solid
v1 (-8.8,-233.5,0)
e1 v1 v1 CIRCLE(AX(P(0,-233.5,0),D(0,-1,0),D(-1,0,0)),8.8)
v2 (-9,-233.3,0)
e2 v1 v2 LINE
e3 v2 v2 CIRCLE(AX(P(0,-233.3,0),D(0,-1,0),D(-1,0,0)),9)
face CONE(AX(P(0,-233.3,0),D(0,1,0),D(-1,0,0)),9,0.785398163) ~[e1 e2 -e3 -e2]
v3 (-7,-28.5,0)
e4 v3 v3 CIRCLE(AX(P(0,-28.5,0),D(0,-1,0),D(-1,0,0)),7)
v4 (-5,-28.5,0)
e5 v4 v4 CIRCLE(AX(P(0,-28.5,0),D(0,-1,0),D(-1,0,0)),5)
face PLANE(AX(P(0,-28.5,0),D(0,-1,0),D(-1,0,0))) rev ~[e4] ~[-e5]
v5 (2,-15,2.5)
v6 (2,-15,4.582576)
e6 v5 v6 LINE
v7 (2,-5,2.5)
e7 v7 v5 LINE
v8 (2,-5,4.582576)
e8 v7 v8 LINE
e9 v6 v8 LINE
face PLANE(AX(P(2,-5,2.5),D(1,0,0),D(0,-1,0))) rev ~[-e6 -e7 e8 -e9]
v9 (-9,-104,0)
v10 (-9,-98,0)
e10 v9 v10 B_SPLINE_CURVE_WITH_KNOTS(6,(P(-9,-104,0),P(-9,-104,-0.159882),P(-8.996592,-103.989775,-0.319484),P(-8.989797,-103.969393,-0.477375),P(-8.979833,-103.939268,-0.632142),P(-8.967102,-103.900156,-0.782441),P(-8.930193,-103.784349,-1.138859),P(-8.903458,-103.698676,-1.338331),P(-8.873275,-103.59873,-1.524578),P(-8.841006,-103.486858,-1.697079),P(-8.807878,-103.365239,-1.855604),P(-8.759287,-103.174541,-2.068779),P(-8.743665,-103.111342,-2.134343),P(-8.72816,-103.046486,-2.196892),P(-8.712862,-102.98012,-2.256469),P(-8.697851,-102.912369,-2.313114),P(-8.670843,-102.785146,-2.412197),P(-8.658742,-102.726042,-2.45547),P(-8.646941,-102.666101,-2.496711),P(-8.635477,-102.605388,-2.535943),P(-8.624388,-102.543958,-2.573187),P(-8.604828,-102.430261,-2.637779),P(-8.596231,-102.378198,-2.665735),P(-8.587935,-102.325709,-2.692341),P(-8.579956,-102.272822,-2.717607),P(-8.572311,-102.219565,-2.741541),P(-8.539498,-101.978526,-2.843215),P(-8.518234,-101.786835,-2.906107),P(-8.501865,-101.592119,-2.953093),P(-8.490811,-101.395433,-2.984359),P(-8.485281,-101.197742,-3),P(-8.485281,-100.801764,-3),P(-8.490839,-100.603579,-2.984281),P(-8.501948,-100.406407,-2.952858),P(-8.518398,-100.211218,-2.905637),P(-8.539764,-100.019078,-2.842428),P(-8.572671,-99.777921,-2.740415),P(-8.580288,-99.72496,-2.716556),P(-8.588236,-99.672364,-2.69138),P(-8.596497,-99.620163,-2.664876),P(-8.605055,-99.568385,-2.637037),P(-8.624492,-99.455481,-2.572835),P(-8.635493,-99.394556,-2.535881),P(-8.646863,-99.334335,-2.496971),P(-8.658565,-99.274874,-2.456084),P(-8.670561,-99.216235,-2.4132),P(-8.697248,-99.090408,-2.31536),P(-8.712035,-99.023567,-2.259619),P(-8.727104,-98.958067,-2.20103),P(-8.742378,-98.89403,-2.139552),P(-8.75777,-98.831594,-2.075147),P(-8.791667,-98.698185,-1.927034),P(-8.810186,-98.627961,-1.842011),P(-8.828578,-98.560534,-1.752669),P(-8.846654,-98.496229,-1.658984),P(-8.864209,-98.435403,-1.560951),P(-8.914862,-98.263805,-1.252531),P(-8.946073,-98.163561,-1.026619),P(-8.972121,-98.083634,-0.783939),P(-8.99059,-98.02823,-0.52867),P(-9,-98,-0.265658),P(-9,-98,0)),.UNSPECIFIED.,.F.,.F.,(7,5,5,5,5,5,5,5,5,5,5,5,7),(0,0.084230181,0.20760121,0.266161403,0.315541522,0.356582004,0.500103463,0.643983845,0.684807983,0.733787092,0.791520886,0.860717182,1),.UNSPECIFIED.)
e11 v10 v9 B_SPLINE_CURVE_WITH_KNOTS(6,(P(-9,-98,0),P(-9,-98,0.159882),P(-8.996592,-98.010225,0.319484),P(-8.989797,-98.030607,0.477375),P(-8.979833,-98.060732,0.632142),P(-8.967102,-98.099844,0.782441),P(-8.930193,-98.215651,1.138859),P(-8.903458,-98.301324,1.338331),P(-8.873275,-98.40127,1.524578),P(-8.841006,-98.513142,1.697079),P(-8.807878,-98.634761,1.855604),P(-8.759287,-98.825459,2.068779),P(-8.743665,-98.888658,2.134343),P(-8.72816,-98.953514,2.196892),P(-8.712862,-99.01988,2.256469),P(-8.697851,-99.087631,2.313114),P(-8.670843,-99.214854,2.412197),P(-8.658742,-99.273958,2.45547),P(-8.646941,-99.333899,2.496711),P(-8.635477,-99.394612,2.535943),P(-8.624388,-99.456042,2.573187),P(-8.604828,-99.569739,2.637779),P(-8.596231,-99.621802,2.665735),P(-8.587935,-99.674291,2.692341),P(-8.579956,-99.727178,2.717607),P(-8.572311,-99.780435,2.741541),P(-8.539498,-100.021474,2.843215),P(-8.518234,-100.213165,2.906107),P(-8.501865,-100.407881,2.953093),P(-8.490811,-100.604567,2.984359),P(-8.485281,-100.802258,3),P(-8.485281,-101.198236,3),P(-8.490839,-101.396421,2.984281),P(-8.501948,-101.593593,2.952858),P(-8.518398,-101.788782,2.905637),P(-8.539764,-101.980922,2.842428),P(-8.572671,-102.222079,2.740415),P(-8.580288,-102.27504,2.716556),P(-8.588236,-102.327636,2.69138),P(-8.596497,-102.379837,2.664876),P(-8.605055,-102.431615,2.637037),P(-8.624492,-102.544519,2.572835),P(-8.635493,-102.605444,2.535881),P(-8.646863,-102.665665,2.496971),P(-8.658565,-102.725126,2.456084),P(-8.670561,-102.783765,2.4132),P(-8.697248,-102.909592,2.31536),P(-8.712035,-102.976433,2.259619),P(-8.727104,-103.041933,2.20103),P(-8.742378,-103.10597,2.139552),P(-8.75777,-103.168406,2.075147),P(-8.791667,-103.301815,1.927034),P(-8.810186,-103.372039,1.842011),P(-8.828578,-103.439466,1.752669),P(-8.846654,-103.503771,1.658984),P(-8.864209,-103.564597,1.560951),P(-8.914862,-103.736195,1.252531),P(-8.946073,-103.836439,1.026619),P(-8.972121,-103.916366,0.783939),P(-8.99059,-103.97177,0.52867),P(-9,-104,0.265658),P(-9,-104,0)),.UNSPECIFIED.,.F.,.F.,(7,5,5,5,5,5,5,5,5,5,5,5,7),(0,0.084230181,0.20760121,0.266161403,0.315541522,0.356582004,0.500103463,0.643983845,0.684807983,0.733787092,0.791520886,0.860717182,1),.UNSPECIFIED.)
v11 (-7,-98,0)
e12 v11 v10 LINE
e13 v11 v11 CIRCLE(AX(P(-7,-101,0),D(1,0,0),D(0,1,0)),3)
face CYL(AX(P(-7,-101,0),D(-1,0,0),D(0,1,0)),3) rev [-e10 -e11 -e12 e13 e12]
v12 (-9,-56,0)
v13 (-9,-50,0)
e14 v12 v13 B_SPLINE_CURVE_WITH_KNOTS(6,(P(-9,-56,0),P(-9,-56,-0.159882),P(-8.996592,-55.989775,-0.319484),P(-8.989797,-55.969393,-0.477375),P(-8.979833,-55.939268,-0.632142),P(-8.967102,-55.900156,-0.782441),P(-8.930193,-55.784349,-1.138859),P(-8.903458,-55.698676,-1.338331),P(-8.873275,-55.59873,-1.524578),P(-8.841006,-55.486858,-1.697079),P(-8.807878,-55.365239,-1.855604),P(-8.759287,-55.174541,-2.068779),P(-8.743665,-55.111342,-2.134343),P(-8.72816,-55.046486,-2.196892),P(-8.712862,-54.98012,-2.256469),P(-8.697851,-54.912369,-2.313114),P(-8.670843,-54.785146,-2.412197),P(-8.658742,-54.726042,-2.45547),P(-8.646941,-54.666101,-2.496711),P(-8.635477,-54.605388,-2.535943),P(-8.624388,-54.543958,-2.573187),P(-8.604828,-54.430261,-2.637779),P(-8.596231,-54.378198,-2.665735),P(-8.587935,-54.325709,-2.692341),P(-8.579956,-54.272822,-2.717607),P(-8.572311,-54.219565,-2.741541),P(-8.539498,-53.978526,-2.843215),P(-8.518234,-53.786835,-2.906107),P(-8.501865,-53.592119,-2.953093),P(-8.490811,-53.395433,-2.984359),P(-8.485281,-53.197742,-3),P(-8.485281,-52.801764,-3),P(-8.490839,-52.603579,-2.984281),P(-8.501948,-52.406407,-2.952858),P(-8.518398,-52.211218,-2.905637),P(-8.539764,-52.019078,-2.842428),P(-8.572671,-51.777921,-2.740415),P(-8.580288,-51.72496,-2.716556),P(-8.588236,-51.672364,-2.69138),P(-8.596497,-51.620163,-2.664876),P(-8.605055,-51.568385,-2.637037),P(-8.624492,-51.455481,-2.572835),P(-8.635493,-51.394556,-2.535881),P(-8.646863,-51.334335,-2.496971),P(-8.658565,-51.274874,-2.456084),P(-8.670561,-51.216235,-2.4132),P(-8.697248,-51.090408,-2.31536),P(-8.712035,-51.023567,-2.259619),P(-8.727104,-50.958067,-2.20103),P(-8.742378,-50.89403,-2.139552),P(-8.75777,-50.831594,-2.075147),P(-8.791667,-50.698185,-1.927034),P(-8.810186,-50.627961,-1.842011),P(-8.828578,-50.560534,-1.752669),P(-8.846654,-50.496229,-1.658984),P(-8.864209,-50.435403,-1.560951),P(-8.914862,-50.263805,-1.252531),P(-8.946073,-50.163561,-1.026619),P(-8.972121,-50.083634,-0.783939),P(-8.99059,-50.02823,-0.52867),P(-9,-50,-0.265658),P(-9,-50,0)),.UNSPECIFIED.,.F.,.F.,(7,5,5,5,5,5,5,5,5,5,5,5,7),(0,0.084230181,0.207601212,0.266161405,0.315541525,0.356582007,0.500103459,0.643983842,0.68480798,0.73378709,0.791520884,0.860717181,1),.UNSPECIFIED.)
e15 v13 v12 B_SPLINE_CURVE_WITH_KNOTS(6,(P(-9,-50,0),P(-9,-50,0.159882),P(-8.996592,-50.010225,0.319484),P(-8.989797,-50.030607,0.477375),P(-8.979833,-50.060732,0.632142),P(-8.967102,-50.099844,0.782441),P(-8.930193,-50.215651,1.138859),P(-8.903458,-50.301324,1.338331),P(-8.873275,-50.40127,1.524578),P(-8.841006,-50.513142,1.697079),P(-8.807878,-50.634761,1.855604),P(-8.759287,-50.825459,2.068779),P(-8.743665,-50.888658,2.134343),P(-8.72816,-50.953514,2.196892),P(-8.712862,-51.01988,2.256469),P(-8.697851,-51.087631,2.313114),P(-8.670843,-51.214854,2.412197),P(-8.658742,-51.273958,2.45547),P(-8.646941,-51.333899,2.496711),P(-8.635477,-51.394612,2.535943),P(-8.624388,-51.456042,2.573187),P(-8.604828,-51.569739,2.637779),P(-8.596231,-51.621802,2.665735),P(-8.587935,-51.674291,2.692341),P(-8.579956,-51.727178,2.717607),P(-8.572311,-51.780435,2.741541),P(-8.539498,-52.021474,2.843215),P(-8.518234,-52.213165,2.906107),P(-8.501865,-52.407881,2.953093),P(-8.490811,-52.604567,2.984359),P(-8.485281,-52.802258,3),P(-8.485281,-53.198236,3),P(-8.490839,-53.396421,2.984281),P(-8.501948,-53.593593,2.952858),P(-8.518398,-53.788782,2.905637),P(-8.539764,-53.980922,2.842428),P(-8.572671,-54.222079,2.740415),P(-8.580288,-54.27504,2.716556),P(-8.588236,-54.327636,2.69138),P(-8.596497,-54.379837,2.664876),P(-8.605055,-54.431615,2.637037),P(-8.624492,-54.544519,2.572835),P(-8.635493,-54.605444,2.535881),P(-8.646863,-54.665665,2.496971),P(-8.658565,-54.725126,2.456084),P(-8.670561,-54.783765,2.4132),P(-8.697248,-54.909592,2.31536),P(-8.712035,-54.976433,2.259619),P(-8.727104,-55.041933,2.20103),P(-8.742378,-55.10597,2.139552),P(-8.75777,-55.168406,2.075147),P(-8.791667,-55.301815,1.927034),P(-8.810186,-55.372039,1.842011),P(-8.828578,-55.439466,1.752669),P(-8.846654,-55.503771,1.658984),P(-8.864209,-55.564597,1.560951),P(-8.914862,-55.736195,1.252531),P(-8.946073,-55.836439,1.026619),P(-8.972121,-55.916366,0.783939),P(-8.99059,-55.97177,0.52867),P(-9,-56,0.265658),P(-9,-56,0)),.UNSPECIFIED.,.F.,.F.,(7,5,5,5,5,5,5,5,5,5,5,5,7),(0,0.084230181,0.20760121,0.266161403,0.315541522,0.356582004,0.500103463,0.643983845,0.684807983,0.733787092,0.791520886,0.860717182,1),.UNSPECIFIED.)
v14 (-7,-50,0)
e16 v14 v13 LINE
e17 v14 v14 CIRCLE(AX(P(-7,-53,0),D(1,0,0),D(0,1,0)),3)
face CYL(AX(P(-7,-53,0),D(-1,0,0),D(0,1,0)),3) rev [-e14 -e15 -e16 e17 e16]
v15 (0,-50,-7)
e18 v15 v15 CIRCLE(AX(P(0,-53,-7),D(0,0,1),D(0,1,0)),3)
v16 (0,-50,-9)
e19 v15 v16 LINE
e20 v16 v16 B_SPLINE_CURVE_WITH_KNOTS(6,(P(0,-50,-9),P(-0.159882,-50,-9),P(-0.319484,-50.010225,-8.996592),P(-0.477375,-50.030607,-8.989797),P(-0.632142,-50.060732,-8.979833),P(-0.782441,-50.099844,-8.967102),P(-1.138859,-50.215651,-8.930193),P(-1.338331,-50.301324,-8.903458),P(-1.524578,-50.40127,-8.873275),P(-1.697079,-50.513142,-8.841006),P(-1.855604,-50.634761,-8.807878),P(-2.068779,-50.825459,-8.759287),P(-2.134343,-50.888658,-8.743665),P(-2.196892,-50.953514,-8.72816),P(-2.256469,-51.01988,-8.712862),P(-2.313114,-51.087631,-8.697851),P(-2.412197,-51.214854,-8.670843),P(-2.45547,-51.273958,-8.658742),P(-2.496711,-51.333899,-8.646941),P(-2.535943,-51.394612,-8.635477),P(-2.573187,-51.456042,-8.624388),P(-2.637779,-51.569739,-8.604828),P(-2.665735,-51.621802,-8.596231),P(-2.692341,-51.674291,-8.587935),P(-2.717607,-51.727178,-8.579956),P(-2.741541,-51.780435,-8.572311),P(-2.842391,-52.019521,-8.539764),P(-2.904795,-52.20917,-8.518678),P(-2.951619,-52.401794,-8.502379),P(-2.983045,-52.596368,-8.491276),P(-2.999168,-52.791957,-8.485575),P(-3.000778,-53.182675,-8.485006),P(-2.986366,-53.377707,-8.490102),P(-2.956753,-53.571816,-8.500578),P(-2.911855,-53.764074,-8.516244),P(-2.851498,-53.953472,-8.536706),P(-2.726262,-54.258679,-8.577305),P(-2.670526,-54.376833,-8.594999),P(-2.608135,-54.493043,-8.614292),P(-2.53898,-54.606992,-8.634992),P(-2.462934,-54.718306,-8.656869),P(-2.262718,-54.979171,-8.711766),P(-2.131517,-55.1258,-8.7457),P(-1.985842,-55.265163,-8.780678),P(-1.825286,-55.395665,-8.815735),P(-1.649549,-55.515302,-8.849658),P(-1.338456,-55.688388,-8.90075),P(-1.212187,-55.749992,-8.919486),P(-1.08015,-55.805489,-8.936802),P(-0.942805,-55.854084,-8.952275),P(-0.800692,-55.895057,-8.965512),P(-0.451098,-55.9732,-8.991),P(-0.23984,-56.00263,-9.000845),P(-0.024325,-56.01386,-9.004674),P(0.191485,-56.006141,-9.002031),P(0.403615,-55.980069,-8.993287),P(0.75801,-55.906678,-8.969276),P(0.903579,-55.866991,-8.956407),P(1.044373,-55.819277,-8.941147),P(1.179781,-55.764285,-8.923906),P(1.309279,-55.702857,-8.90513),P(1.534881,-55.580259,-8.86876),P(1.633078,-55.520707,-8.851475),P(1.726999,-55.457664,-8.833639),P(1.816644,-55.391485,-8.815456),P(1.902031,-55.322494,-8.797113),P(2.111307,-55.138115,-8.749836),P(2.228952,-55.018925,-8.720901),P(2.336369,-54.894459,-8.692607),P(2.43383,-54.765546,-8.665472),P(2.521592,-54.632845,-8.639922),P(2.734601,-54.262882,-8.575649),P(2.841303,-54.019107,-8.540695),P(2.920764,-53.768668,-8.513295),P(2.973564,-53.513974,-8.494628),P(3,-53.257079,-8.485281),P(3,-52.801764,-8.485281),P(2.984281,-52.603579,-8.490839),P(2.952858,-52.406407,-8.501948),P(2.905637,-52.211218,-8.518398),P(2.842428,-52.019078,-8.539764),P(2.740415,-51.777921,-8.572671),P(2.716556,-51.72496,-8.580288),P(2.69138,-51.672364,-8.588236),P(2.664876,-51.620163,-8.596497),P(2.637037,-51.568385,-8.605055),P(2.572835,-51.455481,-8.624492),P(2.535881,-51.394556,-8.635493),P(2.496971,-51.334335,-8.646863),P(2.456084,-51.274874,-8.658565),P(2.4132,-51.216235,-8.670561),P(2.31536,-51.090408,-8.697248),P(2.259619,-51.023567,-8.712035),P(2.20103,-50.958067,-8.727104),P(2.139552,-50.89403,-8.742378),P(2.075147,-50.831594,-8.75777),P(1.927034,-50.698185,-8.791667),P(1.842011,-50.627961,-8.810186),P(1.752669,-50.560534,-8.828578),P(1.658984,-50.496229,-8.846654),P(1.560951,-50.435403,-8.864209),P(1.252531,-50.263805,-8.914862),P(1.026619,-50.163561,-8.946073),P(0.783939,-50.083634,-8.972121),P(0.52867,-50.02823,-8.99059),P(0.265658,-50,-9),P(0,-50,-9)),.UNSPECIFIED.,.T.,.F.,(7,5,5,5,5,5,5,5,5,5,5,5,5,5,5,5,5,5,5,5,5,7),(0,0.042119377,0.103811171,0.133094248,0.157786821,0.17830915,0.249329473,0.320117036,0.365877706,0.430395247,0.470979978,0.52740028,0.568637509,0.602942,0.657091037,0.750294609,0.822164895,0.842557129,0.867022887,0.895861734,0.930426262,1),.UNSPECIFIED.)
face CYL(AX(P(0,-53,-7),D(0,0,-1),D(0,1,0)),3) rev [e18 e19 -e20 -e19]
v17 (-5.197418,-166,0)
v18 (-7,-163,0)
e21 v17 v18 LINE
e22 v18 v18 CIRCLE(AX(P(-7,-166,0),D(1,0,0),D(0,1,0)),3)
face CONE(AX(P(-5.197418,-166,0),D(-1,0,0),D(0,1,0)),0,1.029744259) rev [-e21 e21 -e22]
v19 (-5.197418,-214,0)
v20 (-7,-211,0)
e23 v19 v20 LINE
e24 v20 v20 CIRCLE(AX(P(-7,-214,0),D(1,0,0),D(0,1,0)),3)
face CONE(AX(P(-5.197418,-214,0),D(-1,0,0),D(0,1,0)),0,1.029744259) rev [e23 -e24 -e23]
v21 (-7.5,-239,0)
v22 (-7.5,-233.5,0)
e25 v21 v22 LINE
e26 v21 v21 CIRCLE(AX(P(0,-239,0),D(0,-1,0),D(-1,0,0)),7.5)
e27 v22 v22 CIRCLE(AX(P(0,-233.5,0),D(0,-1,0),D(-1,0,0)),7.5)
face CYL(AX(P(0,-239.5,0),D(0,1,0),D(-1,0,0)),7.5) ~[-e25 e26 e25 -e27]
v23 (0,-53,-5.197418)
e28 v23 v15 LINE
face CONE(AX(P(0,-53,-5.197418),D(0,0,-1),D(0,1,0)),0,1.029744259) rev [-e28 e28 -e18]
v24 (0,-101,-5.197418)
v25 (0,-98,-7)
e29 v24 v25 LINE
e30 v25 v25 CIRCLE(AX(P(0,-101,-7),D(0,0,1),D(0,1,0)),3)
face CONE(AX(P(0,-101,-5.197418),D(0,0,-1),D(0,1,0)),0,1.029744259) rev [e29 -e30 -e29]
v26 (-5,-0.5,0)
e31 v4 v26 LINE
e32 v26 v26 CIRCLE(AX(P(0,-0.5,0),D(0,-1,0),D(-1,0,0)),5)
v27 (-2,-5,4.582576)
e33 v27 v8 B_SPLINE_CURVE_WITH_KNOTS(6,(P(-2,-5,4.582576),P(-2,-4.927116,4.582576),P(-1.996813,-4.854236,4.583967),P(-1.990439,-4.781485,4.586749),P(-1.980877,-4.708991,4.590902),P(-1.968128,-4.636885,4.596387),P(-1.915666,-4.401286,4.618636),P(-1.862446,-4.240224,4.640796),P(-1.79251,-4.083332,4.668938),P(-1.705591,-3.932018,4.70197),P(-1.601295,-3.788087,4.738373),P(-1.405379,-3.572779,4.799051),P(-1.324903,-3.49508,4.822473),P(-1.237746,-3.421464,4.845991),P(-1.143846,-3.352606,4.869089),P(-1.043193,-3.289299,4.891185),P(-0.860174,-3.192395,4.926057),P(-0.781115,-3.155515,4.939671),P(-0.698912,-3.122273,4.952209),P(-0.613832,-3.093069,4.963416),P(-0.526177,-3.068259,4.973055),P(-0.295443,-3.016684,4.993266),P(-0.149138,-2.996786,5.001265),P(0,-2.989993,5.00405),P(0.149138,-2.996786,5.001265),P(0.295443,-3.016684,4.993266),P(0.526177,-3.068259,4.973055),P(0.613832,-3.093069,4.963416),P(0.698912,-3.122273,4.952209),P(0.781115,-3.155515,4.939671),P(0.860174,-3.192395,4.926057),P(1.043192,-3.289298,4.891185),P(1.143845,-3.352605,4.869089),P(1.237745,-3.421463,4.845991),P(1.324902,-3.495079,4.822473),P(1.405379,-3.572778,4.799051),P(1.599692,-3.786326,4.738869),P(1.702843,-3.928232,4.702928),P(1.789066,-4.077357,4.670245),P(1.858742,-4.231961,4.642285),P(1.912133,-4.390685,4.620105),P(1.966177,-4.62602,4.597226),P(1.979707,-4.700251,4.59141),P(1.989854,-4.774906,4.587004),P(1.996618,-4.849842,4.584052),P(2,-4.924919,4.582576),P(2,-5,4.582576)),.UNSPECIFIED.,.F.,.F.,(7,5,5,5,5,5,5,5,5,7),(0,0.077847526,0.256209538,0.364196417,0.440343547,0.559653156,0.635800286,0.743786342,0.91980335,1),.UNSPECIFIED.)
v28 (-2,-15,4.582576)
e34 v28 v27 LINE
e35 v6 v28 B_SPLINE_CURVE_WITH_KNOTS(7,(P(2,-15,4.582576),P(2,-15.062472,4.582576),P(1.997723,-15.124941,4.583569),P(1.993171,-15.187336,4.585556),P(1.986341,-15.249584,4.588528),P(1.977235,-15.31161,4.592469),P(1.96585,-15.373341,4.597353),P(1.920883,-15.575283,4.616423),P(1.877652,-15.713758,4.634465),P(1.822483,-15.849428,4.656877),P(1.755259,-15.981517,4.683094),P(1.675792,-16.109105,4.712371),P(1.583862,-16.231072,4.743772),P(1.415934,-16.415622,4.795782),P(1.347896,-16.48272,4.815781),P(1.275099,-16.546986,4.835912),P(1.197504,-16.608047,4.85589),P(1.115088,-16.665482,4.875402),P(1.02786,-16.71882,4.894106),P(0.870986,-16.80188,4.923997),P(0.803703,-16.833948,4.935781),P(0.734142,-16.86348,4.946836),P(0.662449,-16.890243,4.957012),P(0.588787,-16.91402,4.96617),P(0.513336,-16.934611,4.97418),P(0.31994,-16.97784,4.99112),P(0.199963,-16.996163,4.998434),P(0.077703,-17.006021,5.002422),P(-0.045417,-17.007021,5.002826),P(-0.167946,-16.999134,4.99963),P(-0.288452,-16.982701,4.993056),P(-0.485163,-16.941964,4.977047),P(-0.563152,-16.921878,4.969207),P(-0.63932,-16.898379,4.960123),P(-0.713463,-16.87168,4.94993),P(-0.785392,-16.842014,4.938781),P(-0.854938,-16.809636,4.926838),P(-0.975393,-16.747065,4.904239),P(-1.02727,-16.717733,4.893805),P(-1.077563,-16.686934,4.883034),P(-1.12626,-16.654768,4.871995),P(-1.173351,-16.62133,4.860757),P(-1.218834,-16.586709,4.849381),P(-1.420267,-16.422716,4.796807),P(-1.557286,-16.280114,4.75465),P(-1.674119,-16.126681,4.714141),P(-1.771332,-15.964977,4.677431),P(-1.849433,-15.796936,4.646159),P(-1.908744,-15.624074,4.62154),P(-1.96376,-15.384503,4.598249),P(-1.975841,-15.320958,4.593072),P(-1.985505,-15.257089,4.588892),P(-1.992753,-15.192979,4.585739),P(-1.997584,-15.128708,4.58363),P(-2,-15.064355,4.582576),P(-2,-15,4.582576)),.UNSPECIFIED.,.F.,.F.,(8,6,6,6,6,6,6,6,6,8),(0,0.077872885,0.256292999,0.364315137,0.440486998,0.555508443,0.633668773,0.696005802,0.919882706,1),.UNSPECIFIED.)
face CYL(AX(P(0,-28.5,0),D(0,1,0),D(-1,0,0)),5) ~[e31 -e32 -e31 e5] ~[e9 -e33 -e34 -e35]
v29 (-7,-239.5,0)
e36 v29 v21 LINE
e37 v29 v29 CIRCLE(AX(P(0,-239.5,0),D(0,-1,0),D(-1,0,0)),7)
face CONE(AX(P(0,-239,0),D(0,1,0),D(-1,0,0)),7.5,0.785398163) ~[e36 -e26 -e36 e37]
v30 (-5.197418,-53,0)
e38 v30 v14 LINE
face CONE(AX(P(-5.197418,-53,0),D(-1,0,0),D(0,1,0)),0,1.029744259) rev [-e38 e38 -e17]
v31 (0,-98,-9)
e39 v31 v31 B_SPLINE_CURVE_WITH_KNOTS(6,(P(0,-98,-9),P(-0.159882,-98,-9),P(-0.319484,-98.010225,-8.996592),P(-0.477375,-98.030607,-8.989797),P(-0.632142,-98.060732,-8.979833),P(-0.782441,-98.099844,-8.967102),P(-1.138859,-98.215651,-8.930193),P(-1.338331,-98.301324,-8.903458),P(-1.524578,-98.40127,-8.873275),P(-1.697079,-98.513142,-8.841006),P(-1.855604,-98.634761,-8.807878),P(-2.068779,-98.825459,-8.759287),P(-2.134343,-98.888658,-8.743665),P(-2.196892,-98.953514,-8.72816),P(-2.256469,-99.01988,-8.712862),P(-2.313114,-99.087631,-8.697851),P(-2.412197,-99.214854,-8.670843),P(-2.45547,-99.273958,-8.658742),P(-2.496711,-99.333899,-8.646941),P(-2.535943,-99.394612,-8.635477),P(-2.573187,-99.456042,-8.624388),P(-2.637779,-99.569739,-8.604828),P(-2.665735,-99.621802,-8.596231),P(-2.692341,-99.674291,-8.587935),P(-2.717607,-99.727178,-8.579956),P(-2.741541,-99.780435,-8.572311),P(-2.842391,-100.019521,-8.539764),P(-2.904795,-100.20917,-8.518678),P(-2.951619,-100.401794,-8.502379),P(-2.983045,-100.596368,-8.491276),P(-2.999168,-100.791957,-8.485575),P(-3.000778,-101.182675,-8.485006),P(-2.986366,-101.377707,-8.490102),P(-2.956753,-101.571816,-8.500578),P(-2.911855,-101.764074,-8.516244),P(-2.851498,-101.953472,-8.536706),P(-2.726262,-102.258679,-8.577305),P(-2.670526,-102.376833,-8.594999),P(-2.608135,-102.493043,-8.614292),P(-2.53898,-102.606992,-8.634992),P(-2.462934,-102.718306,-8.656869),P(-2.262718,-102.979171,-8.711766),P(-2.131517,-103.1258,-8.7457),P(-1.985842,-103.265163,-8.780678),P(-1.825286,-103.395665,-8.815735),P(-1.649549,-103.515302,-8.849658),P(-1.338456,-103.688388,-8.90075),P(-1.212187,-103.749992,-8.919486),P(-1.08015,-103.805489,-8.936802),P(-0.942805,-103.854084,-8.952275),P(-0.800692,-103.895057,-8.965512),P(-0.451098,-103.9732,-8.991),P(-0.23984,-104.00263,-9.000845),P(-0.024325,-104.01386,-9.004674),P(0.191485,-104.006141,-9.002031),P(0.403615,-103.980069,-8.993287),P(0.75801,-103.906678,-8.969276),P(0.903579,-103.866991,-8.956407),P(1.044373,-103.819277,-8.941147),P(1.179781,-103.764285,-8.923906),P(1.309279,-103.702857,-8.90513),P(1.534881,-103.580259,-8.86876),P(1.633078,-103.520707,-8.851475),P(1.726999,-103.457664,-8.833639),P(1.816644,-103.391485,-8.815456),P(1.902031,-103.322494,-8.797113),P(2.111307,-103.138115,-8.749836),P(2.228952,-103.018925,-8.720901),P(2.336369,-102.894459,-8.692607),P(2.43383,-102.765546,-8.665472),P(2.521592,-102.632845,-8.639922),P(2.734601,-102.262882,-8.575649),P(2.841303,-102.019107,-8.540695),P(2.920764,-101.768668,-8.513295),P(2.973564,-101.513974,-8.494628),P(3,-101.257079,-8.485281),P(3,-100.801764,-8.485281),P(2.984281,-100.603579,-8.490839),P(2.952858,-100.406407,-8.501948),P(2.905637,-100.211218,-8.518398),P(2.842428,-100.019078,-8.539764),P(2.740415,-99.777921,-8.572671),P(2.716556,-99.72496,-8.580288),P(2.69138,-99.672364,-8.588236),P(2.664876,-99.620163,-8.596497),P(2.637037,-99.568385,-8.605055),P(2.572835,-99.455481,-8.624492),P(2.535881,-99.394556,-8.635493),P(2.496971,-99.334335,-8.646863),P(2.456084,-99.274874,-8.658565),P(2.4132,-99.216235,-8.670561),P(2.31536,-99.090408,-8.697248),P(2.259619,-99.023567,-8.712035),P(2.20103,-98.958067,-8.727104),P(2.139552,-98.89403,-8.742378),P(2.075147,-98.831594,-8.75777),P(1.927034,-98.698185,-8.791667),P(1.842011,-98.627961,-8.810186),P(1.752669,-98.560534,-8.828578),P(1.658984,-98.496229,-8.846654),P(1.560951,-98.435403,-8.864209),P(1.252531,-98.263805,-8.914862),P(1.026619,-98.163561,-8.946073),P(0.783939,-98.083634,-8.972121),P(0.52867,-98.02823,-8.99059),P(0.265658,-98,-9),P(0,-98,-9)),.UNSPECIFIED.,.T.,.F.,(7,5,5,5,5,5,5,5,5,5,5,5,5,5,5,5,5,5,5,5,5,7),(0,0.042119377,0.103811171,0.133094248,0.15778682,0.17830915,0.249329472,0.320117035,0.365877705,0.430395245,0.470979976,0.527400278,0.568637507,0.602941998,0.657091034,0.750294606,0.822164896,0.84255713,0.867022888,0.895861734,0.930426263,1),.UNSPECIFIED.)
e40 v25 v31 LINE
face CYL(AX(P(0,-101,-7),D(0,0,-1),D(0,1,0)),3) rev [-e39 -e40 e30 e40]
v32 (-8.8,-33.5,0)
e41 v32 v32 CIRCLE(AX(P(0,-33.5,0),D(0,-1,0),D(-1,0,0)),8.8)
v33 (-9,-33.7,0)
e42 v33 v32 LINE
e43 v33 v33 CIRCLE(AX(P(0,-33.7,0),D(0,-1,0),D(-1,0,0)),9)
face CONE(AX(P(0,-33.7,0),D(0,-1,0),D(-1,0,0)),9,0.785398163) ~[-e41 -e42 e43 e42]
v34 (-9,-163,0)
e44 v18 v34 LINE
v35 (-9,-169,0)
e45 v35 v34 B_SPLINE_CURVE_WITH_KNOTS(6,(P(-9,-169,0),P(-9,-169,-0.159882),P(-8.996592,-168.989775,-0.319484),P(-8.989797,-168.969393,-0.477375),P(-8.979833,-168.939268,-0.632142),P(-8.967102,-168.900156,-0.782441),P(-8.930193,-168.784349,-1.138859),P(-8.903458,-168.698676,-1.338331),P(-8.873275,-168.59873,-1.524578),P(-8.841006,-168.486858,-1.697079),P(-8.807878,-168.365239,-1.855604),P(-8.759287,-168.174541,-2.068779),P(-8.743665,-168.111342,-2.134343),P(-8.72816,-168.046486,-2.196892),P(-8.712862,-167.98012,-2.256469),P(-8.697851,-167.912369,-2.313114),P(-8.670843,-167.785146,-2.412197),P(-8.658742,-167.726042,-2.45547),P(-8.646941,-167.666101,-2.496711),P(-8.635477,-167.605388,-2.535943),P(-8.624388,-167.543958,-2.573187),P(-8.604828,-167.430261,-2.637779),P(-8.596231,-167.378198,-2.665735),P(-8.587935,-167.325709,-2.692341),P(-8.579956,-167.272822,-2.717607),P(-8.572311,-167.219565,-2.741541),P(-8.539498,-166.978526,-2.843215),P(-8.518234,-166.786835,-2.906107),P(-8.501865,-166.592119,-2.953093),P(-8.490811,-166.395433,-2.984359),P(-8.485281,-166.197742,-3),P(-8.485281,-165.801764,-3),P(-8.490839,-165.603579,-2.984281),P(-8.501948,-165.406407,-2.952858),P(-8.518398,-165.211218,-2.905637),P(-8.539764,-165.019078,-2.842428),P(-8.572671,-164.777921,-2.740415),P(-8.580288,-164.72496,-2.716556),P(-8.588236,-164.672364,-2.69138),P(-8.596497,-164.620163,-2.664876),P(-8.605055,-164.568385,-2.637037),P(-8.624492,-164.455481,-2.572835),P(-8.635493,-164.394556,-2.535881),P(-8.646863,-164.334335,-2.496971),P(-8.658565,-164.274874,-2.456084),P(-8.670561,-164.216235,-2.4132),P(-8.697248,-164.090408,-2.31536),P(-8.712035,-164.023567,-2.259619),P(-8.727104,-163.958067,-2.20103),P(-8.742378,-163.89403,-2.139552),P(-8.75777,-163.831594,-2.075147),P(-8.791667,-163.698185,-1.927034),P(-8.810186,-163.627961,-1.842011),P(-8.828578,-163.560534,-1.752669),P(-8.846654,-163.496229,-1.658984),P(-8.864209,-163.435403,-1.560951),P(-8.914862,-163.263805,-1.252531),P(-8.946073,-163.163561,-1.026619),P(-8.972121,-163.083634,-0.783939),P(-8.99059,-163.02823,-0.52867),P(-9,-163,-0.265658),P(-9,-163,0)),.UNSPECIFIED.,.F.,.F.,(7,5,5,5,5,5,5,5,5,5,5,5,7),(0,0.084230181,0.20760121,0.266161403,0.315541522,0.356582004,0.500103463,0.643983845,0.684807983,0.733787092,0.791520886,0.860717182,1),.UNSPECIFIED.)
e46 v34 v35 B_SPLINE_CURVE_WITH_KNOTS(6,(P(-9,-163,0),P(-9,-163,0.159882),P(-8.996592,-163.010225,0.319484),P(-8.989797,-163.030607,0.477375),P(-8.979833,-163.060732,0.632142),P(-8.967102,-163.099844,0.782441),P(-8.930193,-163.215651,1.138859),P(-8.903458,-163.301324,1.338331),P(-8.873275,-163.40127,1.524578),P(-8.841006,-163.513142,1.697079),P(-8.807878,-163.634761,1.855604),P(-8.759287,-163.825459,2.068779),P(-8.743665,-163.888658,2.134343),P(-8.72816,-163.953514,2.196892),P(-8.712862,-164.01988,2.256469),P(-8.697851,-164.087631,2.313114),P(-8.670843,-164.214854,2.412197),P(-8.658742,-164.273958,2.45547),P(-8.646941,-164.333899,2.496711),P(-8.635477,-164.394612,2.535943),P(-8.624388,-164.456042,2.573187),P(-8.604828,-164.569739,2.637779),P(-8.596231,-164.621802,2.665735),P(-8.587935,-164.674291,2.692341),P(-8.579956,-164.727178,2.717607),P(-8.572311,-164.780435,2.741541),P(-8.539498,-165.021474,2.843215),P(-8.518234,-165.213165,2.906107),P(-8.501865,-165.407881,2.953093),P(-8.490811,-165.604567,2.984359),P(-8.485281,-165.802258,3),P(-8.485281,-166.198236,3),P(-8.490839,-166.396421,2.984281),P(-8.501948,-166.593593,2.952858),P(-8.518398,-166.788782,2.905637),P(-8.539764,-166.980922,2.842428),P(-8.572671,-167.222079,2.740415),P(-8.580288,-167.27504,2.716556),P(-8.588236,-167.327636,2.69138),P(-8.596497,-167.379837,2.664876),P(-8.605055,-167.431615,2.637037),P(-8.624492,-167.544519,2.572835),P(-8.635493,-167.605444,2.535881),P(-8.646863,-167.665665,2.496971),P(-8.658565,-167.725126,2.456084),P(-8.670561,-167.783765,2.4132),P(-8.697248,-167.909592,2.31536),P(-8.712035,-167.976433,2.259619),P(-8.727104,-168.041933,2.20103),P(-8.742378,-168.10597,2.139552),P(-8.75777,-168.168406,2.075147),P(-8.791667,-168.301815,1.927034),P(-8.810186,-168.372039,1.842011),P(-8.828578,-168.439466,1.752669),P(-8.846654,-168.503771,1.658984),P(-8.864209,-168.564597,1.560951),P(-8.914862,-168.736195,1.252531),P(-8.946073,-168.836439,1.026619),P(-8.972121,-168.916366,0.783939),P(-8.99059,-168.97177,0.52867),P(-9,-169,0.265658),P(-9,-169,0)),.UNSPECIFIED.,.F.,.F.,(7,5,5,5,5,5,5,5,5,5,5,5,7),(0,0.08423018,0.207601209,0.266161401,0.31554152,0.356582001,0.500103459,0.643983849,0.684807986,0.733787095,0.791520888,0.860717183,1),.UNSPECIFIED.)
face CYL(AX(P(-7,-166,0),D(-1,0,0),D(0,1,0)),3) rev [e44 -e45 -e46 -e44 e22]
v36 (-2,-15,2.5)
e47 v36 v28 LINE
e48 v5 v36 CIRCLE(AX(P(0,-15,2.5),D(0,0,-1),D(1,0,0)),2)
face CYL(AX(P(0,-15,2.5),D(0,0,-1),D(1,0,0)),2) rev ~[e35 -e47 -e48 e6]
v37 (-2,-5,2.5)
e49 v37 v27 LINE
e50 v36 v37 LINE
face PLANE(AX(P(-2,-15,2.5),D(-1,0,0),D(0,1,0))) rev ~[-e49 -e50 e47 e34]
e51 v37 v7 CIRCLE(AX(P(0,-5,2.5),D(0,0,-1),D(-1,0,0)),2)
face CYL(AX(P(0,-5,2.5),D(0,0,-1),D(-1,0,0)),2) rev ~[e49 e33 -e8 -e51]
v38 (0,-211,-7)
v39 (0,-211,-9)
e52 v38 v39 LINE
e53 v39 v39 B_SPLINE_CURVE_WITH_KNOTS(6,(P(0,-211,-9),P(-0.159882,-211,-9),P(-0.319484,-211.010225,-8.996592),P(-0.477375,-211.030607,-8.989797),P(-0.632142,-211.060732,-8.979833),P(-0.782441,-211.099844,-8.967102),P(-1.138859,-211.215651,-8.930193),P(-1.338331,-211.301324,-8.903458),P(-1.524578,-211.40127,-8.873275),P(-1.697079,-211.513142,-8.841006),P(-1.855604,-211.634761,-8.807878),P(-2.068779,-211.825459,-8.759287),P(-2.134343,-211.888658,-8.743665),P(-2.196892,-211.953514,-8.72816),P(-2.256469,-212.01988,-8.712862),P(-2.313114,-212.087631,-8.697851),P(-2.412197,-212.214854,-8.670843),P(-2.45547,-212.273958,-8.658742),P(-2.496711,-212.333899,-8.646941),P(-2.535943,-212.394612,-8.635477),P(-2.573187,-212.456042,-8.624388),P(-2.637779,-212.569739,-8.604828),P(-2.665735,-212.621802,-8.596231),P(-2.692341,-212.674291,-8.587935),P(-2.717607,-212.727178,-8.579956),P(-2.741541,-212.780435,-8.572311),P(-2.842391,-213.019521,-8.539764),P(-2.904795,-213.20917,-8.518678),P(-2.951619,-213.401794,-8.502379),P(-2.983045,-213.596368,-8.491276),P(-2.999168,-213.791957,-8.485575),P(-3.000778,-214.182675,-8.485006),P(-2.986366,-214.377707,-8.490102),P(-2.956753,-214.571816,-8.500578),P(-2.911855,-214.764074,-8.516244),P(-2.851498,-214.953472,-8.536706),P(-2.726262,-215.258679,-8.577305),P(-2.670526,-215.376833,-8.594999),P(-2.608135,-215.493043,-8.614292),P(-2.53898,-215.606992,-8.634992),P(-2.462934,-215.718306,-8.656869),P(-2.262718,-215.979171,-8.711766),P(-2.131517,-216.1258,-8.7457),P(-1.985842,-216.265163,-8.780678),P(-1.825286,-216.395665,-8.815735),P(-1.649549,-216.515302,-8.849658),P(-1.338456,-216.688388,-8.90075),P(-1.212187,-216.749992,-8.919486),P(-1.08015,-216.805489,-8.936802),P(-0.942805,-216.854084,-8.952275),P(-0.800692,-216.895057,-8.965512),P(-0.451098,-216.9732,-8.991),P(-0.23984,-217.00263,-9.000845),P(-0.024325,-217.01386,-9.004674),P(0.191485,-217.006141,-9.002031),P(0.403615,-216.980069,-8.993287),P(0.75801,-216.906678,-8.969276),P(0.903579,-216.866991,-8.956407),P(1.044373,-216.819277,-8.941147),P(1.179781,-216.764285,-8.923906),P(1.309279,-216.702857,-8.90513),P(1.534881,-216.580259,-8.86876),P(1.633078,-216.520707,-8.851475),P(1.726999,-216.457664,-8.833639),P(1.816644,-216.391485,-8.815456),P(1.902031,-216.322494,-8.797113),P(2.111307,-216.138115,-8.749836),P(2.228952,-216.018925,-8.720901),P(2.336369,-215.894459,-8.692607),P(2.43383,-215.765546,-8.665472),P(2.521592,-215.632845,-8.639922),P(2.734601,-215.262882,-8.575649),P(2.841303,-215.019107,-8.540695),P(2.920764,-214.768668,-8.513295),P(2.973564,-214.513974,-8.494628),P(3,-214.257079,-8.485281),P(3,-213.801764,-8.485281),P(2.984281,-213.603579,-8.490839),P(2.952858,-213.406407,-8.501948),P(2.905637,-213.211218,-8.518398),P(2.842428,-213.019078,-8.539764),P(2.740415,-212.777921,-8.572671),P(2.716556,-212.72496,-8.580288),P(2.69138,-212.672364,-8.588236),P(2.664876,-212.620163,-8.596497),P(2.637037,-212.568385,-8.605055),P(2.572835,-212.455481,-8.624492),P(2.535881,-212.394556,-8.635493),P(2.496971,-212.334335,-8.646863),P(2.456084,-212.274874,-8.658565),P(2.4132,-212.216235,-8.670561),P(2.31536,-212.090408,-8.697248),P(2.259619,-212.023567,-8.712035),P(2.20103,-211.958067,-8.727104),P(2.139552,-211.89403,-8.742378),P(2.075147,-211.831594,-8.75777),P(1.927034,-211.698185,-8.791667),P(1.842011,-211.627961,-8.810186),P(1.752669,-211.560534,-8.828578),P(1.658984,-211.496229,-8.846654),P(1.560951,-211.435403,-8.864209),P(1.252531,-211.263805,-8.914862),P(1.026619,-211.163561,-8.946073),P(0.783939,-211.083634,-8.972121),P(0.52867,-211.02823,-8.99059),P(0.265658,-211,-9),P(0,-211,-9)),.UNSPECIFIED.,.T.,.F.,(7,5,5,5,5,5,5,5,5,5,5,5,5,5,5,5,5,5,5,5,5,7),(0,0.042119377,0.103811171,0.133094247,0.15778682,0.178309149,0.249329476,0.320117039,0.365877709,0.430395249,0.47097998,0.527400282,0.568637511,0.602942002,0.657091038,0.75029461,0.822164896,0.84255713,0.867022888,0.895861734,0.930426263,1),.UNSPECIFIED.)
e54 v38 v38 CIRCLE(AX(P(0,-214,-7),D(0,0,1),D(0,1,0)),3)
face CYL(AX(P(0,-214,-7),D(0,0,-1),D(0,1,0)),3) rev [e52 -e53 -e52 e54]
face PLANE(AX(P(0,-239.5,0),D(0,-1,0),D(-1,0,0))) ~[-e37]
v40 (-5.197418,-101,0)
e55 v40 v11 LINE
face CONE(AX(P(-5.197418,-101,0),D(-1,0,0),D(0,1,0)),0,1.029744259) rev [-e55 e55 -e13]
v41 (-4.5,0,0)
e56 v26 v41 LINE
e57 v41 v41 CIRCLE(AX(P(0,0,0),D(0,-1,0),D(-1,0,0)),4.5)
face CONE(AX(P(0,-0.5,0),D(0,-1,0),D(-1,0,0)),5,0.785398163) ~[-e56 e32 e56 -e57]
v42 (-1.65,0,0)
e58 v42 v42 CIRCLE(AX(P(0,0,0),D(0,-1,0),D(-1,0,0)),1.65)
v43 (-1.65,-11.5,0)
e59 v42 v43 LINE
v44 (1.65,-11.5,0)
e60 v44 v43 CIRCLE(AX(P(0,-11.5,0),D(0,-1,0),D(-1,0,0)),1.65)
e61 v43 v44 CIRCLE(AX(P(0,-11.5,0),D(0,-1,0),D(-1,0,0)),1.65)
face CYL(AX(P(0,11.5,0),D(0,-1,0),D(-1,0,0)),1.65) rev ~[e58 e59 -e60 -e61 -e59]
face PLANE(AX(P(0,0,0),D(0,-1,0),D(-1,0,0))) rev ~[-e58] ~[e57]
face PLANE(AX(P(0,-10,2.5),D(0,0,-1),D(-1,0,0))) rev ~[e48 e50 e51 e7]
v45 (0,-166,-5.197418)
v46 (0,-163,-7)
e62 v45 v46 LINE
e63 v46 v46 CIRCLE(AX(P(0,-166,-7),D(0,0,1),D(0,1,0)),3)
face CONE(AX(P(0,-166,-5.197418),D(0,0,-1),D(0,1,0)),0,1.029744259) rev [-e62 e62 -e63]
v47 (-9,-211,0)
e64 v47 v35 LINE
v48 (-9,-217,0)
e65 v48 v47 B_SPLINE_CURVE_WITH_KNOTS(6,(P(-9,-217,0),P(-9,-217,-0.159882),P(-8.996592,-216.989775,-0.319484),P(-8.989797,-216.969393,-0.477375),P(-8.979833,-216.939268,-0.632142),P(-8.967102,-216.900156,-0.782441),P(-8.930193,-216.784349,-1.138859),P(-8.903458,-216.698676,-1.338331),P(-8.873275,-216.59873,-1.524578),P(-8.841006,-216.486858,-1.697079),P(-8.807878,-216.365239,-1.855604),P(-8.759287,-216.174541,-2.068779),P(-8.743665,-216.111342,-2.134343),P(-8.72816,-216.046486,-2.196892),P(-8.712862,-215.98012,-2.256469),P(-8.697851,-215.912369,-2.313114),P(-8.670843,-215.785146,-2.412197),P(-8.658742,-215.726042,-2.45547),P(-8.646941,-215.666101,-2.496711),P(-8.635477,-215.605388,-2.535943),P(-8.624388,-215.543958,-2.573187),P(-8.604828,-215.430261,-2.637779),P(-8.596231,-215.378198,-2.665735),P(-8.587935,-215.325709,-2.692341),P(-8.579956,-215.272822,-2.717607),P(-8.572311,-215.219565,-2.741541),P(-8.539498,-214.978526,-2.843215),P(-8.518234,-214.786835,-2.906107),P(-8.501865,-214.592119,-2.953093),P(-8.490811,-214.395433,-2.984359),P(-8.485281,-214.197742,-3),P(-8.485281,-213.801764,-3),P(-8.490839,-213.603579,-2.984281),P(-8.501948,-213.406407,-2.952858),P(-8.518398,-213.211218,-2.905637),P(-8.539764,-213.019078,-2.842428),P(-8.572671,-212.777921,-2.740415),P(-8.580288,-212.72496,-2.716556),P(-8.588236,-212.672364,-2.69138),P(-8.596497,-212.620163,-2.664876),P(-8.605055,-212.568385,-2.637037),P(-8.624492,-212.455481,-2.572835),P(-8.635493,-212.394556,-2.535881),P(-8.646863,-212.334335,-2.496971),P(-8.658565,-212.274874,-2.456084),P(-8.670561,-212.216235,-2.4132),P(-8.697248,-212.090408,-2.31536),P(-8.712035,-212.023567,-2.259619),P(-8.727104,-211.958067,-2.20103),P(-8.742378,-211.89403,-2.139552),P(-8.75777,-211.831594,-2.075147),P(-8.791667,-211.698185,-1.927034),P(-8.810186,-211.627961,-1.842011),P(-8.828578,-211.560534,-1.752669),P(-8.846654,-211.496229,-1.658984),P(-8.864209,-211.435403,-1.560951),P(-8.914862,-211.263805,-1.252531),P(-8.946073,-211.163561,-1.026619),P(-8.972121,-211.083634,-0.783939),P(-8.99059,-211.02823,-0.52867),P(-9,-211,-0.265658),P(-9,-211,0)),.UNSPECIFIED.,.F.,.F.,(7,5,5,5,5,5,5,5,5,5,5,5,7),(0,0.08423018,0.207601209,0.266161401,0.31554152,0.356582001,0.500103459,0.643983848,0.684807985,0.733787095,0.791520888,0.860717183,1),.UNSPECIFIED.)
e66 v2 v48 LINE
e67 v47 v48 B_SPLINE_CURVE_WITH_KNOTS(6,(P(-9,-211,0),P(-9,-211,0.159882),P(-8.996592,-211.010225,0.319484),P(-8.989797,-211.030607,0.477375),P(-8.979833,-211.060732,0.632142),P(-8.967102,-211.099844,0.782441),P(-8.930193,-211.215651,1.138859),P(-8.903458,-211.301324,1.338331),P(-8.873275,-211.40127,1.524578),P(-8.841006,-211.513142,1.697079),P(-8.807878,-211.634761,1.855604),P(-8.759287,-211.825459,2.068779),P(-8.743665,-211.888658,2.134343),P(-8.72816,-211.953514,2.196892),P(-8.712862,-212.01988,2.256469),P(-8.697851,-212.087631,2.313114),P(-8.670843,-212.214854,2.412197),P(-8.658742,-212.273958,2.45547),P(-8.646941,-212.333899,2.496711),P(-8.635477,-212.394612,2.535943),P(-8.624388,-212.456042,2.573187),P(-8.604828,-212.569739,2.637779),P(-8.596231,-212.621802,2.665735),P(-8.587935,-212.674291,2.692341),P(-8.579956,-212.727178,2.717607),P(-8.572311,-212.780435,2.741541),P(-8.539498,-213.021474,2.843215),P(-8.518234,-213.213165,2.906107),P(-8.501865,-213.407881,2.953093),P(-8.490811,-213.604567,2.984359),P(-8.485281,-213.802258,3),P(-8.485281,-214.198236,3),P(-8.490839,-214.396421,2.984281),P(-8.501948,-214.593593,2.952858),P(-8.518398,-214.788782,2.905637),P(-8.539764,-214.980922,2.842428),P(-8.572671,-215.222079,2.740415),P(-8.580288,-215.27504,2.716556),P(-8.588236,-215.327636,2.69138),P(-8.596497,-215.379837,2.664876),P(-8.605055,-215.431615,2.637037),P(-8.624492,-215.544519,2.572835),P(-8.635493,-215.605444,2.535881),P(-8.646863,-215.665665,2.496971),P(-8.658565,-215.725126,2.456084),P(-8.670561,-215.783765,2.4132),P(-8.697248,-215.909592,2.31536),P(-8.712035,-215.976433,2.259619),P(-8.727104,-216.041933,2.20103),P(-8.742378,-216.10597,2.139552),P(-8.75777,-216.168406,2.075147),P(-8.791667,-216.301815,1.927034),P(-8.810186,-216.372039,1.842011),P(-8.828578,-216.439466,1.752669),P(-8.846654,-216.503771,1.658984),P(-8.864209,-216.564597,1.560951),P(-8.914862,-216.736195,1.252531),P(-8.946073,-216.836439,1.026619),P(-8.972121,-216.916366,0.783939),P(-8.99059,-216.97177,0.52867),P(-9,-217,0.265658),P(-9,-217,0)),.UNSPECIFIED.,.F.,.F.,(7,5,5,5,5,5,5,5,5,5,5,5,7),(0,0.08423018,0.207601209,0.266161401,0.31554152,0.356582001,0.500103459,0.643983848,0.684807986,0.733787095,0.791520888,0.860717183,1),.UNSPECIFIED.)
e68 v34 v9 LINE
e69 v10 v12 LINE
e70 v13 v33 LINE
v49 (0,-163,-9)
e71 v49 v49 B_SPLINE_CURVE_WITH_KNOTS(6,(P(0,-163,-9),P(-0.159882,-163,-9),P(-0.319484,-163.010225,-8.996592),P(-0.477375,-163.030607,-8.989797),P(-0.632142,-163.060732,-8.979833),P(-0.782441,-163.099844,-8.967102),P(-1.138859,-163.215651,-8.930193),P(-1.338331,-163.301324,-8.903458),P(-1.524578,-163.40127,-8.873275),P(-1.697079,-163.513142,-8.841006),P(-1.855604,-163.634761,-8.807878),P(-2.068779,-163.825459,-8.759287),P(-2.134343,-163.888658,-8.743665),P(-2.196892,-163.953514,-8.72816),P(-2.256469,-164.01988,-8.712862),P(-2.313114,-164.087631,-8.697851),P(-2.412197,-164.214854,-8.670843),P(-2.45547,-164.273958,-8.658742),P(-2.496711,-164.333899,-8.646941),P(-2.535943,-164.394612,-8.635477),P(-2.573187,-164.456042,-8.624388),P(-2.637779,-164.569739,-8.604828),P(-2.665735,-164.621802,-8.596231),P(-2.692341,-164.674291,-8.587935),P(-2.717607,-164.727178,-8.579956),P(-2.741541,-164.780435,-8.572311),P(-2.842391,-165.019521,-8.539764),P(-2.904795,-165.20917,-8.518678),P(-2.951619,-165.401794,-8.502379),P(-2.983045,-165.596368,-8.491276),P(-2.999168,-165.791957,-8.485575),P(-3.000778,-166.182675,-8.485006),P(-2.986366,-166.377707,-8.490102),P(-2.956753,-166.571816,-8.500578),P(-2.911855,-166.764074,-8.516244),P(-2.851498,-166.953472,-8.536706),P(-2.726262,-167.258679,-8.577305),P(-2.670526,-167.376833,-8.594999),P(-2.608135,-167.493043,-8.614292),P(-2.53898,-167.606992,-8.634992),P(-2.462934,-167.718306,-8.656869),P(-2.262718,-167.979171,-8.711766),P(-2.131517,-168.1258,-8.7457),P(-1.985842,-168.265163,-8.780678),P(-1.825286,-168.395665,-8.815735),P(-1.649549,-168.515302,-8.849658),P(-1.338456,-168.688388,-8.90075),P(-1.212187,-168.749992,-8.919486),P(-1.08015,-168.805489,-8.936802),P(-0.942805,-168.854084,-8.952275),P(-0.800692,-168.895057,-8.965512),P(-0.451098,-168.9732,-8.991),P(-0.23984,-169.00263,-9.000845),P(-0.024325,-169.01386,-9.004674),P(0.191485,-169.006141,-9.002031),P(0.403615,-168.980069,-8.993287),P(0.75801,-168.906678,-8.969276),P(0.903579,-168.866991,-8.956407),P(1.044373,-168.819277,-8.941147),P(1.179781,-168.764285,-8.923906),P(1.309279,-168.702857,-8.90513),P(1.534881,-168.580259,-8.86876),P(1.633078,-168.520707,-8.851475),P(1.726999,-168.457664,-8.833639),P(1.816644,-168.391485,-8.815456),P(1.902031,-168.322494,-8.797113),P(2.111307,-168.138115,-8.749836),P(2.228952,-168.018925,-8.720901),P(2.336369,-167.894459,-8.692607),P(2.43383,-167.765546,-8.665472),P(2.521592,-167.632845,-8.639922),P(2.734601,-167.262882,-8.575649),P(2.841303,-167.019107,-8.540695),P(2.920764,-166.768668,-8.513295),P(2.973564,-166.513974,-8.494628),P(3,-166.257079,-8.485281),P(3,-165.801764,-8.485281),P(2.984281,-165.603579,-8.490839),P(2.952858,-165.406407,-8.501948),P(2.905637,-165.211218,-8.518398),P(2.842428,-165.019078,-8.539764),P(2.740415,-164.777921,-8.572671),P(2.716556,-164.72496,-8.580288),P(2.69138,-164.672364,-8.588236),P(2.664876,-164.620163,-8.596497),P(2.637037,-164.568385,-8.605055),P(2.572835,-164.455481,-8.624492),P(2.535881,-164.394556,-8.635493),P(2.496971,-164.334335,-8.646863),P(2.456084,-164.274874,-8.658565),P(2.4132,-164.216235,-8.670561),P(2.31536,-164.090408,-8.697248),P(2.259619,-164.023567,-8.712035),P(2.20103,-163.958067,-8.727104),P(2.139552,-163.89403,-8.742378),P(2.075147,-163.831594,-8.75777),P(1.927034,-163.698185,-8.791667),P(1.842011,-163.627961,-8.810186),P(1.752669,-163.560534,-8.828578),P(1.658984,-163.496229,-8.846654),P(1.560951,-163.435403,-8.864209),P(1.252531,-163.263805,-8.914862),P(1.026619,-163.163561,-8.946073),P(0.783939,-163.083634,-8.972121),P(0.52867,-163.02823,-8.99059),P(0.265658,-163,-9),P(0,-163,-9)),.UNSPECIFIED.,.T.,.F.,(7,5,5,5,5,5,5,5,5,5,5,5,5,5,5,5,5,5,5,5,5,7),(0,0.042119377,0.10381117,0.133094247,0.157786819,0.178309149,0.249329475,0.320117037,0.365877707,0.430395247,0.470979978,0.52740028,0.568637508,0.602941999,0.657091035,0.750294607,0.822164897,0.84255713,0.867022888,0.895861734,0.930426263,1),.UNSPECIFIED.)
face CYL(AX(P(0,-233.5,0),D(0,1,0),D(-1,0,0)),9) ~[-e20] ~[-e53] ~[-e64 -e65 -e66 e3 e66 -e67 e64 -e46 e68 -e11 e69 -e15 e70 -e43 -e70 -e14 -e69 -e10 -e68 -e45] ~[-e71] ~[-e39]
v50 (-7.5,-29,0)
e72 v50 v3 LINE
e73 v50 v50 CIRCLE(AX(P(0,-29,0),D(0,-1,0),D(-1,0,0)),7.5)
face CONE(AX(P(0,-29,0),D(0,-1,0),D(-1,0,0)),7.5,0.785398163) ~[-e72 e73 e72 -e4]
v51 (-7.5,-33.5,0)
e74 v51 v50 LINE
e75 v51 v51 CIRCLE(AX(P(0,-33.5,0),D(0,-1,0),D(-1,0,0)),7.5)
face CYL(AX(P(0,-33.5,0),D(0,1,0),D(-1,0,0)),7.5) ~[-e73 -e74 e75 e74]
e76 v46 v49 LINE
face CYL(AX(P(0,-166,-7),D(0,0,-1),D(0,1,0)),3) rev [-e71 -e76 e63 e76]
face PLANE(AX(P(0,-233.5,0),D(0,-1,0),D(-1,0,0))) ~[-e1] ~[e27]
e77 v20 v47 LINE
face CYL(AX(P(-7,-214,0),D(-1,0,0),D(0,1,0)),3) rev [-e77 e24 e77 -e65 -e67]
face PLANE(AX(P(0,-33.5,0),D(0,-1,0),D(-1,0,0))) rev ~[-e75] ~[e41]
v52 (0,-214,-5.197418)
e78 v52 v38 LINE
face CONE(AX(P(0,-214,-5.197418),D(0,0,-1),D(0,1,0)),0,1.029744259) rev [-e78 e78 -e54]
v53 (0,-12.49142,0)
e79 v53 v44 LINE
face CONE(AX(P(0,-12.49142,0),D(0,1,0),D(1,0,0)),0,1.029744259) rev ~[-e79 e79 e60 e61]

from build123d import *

# Parameters (mm, degrees)
CHAMFER_1_SIZE                 = 0.5
CHAMFER_2_SIZE                 = 0.2
HOLE_WIZARD_6_0_6_1_AT_2_COUNT = 2
HOLE_WIZARD_6_0_6_1_AT_2_PITCH = 48
HOLE_WIZARD_6_0_6_1_AT_3_COUNT = 2
HOLE_WIZARD_6_0_6_1_AT_3_PITCH = 113
HOLE_WIZARD_6_0_6_1_AT_4_COUNT = 2
HOLE_WIZARD_6_0_6_1_AT_4_PITCH = 161
PATTERN_CIRCULAR_1_COUNT       = 2
PATTERN_CIRCULAR_1_ANGLE       = 90
CUT_EXTRUDE_3_DEPTH            = 10
HOLE_WIZARD_M4_1_D             = 3.3
HOLE_WIZARD_M4_1_DEPTH         = 11.5
HOLE_WIZARD_M4_1_TIP           = 0.991420021


with BuildPart() as part:
    # 草图1 → 旋转1 (revolve)
    with BuildSketch(Plane.XY):
        Polygon((0, 0), (0, -239.5), (-7.5, -239.5), (-7.5, -233.5), (-9, -233.5), (-9, -33.5), (-7.5, -33.5), (-7.5, -28.5), (-5, -28.5), (-5, 0), align=None)
    revolve(axis=Axis((0, 0, 0), (0, -1, 0)))

    # 倒角1
    chamfer_1_edges = [part.edges().sort_by_distance(p)[0] for p in [
        (7.5, -239.5, 0),
        (5, 0, 0),
        (7.5, -28.5, 0),
    ]]
    chamfer(chamfer_1_edges, length=CHAMFER_1_SIZE)

    # 倒角2
    chamfer_2_edges = [part.edges().sort_by_distance(p)[0] for p in [
        (9, -33.5, 0),
        (9, -233.5, 0),
    ]]
    chamfer(chamfer_2_edges, length=CHAMFER_2_SIZE)

    # 草图5 → Ø6.0 (6) 直径孔1 (revolve, cut)
    with BuildSketch(Plane(origin=(0, -214, -9), x_dir=(0, 1, 0), z_dir=(1, 0, 0))):
        Polygon((0, 0), (0, 3.802581857), (3, 2), (3, 0), align=None)
    hole_wizard_6_0_6_1 = revolve(axis=Axis((0, -214, -15.35), (0, 0, 1)), mode=Mode.SUBTRACT)

    # Ø6.0 (6) 直径孔1 at 2: Ø6.0 (6) 直径孔1 ×2
    with Locations(*[(0, i * HOLE_WIZARD_6_0_6_1_AT_2_PITCH, 0) for i in range(1, HOLE_WIZARD_6_0_6_1_AT_2_COUNT)]):
        add(hole_wizard_6_0_6_1, mode=Mode.SUBTRACT)

    # Ø6.0 (6) 直径孔1 at 3: Ø6.0 (6) 直径孔1 ×2
    with Locations(*[(0, i * HOLE_WIZARD_6_0_6_1_AT_3_PITCH, 0) for i in range(1, HOLE_WIZARD_6_0_6_1_AT_3_COUNT)]):
        add(hole_wizard_6_0_6_1, mode=Mode.SUBTRACT)

    # Ø6.0 (6) 直径孔1 at 4: Ø6.0 (6) 直径孔1 ×2
    with Locations(*[(0, i * HOLE_WIZARD_6_0_6_1_AT_4_PITCH, 0) for i in range(1, HOLE_WIZARD_6_0_6_1_AT_4_COUNT)]):
        add(hole_wizard_6_0_6_1, mode=Mode.SUBTRACT)

    # 阵列(圆周)1: Ø6.0 (6) 直径孔1 ×2 about axis
    pattern_circular_1_axis = Axis((0, 0, 0), (0, 1, 0))
    for i in range(1, PATTERN_CIRCULAR_1_COUNT):
        add(hole_wizard_6_0_6_1.rotate(pattern_circular_1_axis, i * PATTERN_CIRCULAR_1_ANGLE / (PATTERN_CIRCULAR_1_COUNT - 1)), mode=Mode.SUBTRACT)

    # 阵列(圆周)1 copy 1 sketch → 阵列(圆周)1 copy 1 (revolve, cut)
    with BuildSketch(Plane(origin=(-9, -166, 0), x_dir=(0, 1, 0), z_dir=(0, 0, -1))):
        Polygon((0, 0), (0, 3.802581857), (3, 2), (3, 0), align=None)
    revolve(axis=Axis((-15.35, -166, 0), (1, 0, 0)), mode=Mode.SUBTRACT)

    # 阵列(圆周)1 copy 2 sketch → 阵列(圆周)1 copy 2 (revolve, cut)
    with BuildSketch(Plane(origin=(-9, -101, 0), x_dir=(0, 1, 0), z_dir=(0, 0, -1))):
        Polygon((0, 0), (0, 3.802581857), (3, 2), (3, 0), align=None)
    revolve(axis=Axis((-15.35, -101, 0), (1, 0, 0)), mode=Mode.SUBTRACT)

    # 阵列(圆周)1 copy 3 sketch → 阵列(圆周)1 copy 3 (revolve, cut)
    with BuildSketch(Plane(origin=(-9, -53, 0), x_dir=(0, 1, 0), z_dir=(0, 0, -1))):
        Polygon((0, 0), (0, 3.802581857), (3, 2), (3, 0), align=None)
    revolve(axis=Axis((-15.35, -53, 0), (1, 0, 0)), mode=Mode.SUBTRACT)

    # 草图7 → 切除-拉伸3 (cut)
    with BuildSketch(Plane.XY.offset(2.5)):
        with BuildLine():
            Line((2, -5), (2, -15))
            ThreePointArc((2, -15), (0, -17), (-2, -15))
            Line((-2, -15), (-2, -5))
            ThreePointArc((-2, -5), (0, -3), (2, -5))
        make_face()
    extrude(amount=CUT_EXTRUDE_3_DEPTH, mode=Mode.SUBTRACT)

    # M4 螺纹孔1
    with Locations(Plane(origin=(0, 0, 0), x_dir=(1, 0, 0), z_dir=(0, 1, 0))):
        with Locations((0, 0)):
            Hole(HOLE_WIZARD_M4_1_D / 2, depth=HOLE_WIZARD_M4_1_DEPTH)
            with Locations((0, 0, -(HOLE_WIZARD_M4_1_DEPTH + HOLE_WIZARD_M4_1_TIP / 2))):  # 118° drill point
                Cone(0, HOLE_WIZARD_M4_1_D / 2, HOLE_WIZARD_M4_1_TIP, mode=Mode.SUBTRACT)


solid = part.part
